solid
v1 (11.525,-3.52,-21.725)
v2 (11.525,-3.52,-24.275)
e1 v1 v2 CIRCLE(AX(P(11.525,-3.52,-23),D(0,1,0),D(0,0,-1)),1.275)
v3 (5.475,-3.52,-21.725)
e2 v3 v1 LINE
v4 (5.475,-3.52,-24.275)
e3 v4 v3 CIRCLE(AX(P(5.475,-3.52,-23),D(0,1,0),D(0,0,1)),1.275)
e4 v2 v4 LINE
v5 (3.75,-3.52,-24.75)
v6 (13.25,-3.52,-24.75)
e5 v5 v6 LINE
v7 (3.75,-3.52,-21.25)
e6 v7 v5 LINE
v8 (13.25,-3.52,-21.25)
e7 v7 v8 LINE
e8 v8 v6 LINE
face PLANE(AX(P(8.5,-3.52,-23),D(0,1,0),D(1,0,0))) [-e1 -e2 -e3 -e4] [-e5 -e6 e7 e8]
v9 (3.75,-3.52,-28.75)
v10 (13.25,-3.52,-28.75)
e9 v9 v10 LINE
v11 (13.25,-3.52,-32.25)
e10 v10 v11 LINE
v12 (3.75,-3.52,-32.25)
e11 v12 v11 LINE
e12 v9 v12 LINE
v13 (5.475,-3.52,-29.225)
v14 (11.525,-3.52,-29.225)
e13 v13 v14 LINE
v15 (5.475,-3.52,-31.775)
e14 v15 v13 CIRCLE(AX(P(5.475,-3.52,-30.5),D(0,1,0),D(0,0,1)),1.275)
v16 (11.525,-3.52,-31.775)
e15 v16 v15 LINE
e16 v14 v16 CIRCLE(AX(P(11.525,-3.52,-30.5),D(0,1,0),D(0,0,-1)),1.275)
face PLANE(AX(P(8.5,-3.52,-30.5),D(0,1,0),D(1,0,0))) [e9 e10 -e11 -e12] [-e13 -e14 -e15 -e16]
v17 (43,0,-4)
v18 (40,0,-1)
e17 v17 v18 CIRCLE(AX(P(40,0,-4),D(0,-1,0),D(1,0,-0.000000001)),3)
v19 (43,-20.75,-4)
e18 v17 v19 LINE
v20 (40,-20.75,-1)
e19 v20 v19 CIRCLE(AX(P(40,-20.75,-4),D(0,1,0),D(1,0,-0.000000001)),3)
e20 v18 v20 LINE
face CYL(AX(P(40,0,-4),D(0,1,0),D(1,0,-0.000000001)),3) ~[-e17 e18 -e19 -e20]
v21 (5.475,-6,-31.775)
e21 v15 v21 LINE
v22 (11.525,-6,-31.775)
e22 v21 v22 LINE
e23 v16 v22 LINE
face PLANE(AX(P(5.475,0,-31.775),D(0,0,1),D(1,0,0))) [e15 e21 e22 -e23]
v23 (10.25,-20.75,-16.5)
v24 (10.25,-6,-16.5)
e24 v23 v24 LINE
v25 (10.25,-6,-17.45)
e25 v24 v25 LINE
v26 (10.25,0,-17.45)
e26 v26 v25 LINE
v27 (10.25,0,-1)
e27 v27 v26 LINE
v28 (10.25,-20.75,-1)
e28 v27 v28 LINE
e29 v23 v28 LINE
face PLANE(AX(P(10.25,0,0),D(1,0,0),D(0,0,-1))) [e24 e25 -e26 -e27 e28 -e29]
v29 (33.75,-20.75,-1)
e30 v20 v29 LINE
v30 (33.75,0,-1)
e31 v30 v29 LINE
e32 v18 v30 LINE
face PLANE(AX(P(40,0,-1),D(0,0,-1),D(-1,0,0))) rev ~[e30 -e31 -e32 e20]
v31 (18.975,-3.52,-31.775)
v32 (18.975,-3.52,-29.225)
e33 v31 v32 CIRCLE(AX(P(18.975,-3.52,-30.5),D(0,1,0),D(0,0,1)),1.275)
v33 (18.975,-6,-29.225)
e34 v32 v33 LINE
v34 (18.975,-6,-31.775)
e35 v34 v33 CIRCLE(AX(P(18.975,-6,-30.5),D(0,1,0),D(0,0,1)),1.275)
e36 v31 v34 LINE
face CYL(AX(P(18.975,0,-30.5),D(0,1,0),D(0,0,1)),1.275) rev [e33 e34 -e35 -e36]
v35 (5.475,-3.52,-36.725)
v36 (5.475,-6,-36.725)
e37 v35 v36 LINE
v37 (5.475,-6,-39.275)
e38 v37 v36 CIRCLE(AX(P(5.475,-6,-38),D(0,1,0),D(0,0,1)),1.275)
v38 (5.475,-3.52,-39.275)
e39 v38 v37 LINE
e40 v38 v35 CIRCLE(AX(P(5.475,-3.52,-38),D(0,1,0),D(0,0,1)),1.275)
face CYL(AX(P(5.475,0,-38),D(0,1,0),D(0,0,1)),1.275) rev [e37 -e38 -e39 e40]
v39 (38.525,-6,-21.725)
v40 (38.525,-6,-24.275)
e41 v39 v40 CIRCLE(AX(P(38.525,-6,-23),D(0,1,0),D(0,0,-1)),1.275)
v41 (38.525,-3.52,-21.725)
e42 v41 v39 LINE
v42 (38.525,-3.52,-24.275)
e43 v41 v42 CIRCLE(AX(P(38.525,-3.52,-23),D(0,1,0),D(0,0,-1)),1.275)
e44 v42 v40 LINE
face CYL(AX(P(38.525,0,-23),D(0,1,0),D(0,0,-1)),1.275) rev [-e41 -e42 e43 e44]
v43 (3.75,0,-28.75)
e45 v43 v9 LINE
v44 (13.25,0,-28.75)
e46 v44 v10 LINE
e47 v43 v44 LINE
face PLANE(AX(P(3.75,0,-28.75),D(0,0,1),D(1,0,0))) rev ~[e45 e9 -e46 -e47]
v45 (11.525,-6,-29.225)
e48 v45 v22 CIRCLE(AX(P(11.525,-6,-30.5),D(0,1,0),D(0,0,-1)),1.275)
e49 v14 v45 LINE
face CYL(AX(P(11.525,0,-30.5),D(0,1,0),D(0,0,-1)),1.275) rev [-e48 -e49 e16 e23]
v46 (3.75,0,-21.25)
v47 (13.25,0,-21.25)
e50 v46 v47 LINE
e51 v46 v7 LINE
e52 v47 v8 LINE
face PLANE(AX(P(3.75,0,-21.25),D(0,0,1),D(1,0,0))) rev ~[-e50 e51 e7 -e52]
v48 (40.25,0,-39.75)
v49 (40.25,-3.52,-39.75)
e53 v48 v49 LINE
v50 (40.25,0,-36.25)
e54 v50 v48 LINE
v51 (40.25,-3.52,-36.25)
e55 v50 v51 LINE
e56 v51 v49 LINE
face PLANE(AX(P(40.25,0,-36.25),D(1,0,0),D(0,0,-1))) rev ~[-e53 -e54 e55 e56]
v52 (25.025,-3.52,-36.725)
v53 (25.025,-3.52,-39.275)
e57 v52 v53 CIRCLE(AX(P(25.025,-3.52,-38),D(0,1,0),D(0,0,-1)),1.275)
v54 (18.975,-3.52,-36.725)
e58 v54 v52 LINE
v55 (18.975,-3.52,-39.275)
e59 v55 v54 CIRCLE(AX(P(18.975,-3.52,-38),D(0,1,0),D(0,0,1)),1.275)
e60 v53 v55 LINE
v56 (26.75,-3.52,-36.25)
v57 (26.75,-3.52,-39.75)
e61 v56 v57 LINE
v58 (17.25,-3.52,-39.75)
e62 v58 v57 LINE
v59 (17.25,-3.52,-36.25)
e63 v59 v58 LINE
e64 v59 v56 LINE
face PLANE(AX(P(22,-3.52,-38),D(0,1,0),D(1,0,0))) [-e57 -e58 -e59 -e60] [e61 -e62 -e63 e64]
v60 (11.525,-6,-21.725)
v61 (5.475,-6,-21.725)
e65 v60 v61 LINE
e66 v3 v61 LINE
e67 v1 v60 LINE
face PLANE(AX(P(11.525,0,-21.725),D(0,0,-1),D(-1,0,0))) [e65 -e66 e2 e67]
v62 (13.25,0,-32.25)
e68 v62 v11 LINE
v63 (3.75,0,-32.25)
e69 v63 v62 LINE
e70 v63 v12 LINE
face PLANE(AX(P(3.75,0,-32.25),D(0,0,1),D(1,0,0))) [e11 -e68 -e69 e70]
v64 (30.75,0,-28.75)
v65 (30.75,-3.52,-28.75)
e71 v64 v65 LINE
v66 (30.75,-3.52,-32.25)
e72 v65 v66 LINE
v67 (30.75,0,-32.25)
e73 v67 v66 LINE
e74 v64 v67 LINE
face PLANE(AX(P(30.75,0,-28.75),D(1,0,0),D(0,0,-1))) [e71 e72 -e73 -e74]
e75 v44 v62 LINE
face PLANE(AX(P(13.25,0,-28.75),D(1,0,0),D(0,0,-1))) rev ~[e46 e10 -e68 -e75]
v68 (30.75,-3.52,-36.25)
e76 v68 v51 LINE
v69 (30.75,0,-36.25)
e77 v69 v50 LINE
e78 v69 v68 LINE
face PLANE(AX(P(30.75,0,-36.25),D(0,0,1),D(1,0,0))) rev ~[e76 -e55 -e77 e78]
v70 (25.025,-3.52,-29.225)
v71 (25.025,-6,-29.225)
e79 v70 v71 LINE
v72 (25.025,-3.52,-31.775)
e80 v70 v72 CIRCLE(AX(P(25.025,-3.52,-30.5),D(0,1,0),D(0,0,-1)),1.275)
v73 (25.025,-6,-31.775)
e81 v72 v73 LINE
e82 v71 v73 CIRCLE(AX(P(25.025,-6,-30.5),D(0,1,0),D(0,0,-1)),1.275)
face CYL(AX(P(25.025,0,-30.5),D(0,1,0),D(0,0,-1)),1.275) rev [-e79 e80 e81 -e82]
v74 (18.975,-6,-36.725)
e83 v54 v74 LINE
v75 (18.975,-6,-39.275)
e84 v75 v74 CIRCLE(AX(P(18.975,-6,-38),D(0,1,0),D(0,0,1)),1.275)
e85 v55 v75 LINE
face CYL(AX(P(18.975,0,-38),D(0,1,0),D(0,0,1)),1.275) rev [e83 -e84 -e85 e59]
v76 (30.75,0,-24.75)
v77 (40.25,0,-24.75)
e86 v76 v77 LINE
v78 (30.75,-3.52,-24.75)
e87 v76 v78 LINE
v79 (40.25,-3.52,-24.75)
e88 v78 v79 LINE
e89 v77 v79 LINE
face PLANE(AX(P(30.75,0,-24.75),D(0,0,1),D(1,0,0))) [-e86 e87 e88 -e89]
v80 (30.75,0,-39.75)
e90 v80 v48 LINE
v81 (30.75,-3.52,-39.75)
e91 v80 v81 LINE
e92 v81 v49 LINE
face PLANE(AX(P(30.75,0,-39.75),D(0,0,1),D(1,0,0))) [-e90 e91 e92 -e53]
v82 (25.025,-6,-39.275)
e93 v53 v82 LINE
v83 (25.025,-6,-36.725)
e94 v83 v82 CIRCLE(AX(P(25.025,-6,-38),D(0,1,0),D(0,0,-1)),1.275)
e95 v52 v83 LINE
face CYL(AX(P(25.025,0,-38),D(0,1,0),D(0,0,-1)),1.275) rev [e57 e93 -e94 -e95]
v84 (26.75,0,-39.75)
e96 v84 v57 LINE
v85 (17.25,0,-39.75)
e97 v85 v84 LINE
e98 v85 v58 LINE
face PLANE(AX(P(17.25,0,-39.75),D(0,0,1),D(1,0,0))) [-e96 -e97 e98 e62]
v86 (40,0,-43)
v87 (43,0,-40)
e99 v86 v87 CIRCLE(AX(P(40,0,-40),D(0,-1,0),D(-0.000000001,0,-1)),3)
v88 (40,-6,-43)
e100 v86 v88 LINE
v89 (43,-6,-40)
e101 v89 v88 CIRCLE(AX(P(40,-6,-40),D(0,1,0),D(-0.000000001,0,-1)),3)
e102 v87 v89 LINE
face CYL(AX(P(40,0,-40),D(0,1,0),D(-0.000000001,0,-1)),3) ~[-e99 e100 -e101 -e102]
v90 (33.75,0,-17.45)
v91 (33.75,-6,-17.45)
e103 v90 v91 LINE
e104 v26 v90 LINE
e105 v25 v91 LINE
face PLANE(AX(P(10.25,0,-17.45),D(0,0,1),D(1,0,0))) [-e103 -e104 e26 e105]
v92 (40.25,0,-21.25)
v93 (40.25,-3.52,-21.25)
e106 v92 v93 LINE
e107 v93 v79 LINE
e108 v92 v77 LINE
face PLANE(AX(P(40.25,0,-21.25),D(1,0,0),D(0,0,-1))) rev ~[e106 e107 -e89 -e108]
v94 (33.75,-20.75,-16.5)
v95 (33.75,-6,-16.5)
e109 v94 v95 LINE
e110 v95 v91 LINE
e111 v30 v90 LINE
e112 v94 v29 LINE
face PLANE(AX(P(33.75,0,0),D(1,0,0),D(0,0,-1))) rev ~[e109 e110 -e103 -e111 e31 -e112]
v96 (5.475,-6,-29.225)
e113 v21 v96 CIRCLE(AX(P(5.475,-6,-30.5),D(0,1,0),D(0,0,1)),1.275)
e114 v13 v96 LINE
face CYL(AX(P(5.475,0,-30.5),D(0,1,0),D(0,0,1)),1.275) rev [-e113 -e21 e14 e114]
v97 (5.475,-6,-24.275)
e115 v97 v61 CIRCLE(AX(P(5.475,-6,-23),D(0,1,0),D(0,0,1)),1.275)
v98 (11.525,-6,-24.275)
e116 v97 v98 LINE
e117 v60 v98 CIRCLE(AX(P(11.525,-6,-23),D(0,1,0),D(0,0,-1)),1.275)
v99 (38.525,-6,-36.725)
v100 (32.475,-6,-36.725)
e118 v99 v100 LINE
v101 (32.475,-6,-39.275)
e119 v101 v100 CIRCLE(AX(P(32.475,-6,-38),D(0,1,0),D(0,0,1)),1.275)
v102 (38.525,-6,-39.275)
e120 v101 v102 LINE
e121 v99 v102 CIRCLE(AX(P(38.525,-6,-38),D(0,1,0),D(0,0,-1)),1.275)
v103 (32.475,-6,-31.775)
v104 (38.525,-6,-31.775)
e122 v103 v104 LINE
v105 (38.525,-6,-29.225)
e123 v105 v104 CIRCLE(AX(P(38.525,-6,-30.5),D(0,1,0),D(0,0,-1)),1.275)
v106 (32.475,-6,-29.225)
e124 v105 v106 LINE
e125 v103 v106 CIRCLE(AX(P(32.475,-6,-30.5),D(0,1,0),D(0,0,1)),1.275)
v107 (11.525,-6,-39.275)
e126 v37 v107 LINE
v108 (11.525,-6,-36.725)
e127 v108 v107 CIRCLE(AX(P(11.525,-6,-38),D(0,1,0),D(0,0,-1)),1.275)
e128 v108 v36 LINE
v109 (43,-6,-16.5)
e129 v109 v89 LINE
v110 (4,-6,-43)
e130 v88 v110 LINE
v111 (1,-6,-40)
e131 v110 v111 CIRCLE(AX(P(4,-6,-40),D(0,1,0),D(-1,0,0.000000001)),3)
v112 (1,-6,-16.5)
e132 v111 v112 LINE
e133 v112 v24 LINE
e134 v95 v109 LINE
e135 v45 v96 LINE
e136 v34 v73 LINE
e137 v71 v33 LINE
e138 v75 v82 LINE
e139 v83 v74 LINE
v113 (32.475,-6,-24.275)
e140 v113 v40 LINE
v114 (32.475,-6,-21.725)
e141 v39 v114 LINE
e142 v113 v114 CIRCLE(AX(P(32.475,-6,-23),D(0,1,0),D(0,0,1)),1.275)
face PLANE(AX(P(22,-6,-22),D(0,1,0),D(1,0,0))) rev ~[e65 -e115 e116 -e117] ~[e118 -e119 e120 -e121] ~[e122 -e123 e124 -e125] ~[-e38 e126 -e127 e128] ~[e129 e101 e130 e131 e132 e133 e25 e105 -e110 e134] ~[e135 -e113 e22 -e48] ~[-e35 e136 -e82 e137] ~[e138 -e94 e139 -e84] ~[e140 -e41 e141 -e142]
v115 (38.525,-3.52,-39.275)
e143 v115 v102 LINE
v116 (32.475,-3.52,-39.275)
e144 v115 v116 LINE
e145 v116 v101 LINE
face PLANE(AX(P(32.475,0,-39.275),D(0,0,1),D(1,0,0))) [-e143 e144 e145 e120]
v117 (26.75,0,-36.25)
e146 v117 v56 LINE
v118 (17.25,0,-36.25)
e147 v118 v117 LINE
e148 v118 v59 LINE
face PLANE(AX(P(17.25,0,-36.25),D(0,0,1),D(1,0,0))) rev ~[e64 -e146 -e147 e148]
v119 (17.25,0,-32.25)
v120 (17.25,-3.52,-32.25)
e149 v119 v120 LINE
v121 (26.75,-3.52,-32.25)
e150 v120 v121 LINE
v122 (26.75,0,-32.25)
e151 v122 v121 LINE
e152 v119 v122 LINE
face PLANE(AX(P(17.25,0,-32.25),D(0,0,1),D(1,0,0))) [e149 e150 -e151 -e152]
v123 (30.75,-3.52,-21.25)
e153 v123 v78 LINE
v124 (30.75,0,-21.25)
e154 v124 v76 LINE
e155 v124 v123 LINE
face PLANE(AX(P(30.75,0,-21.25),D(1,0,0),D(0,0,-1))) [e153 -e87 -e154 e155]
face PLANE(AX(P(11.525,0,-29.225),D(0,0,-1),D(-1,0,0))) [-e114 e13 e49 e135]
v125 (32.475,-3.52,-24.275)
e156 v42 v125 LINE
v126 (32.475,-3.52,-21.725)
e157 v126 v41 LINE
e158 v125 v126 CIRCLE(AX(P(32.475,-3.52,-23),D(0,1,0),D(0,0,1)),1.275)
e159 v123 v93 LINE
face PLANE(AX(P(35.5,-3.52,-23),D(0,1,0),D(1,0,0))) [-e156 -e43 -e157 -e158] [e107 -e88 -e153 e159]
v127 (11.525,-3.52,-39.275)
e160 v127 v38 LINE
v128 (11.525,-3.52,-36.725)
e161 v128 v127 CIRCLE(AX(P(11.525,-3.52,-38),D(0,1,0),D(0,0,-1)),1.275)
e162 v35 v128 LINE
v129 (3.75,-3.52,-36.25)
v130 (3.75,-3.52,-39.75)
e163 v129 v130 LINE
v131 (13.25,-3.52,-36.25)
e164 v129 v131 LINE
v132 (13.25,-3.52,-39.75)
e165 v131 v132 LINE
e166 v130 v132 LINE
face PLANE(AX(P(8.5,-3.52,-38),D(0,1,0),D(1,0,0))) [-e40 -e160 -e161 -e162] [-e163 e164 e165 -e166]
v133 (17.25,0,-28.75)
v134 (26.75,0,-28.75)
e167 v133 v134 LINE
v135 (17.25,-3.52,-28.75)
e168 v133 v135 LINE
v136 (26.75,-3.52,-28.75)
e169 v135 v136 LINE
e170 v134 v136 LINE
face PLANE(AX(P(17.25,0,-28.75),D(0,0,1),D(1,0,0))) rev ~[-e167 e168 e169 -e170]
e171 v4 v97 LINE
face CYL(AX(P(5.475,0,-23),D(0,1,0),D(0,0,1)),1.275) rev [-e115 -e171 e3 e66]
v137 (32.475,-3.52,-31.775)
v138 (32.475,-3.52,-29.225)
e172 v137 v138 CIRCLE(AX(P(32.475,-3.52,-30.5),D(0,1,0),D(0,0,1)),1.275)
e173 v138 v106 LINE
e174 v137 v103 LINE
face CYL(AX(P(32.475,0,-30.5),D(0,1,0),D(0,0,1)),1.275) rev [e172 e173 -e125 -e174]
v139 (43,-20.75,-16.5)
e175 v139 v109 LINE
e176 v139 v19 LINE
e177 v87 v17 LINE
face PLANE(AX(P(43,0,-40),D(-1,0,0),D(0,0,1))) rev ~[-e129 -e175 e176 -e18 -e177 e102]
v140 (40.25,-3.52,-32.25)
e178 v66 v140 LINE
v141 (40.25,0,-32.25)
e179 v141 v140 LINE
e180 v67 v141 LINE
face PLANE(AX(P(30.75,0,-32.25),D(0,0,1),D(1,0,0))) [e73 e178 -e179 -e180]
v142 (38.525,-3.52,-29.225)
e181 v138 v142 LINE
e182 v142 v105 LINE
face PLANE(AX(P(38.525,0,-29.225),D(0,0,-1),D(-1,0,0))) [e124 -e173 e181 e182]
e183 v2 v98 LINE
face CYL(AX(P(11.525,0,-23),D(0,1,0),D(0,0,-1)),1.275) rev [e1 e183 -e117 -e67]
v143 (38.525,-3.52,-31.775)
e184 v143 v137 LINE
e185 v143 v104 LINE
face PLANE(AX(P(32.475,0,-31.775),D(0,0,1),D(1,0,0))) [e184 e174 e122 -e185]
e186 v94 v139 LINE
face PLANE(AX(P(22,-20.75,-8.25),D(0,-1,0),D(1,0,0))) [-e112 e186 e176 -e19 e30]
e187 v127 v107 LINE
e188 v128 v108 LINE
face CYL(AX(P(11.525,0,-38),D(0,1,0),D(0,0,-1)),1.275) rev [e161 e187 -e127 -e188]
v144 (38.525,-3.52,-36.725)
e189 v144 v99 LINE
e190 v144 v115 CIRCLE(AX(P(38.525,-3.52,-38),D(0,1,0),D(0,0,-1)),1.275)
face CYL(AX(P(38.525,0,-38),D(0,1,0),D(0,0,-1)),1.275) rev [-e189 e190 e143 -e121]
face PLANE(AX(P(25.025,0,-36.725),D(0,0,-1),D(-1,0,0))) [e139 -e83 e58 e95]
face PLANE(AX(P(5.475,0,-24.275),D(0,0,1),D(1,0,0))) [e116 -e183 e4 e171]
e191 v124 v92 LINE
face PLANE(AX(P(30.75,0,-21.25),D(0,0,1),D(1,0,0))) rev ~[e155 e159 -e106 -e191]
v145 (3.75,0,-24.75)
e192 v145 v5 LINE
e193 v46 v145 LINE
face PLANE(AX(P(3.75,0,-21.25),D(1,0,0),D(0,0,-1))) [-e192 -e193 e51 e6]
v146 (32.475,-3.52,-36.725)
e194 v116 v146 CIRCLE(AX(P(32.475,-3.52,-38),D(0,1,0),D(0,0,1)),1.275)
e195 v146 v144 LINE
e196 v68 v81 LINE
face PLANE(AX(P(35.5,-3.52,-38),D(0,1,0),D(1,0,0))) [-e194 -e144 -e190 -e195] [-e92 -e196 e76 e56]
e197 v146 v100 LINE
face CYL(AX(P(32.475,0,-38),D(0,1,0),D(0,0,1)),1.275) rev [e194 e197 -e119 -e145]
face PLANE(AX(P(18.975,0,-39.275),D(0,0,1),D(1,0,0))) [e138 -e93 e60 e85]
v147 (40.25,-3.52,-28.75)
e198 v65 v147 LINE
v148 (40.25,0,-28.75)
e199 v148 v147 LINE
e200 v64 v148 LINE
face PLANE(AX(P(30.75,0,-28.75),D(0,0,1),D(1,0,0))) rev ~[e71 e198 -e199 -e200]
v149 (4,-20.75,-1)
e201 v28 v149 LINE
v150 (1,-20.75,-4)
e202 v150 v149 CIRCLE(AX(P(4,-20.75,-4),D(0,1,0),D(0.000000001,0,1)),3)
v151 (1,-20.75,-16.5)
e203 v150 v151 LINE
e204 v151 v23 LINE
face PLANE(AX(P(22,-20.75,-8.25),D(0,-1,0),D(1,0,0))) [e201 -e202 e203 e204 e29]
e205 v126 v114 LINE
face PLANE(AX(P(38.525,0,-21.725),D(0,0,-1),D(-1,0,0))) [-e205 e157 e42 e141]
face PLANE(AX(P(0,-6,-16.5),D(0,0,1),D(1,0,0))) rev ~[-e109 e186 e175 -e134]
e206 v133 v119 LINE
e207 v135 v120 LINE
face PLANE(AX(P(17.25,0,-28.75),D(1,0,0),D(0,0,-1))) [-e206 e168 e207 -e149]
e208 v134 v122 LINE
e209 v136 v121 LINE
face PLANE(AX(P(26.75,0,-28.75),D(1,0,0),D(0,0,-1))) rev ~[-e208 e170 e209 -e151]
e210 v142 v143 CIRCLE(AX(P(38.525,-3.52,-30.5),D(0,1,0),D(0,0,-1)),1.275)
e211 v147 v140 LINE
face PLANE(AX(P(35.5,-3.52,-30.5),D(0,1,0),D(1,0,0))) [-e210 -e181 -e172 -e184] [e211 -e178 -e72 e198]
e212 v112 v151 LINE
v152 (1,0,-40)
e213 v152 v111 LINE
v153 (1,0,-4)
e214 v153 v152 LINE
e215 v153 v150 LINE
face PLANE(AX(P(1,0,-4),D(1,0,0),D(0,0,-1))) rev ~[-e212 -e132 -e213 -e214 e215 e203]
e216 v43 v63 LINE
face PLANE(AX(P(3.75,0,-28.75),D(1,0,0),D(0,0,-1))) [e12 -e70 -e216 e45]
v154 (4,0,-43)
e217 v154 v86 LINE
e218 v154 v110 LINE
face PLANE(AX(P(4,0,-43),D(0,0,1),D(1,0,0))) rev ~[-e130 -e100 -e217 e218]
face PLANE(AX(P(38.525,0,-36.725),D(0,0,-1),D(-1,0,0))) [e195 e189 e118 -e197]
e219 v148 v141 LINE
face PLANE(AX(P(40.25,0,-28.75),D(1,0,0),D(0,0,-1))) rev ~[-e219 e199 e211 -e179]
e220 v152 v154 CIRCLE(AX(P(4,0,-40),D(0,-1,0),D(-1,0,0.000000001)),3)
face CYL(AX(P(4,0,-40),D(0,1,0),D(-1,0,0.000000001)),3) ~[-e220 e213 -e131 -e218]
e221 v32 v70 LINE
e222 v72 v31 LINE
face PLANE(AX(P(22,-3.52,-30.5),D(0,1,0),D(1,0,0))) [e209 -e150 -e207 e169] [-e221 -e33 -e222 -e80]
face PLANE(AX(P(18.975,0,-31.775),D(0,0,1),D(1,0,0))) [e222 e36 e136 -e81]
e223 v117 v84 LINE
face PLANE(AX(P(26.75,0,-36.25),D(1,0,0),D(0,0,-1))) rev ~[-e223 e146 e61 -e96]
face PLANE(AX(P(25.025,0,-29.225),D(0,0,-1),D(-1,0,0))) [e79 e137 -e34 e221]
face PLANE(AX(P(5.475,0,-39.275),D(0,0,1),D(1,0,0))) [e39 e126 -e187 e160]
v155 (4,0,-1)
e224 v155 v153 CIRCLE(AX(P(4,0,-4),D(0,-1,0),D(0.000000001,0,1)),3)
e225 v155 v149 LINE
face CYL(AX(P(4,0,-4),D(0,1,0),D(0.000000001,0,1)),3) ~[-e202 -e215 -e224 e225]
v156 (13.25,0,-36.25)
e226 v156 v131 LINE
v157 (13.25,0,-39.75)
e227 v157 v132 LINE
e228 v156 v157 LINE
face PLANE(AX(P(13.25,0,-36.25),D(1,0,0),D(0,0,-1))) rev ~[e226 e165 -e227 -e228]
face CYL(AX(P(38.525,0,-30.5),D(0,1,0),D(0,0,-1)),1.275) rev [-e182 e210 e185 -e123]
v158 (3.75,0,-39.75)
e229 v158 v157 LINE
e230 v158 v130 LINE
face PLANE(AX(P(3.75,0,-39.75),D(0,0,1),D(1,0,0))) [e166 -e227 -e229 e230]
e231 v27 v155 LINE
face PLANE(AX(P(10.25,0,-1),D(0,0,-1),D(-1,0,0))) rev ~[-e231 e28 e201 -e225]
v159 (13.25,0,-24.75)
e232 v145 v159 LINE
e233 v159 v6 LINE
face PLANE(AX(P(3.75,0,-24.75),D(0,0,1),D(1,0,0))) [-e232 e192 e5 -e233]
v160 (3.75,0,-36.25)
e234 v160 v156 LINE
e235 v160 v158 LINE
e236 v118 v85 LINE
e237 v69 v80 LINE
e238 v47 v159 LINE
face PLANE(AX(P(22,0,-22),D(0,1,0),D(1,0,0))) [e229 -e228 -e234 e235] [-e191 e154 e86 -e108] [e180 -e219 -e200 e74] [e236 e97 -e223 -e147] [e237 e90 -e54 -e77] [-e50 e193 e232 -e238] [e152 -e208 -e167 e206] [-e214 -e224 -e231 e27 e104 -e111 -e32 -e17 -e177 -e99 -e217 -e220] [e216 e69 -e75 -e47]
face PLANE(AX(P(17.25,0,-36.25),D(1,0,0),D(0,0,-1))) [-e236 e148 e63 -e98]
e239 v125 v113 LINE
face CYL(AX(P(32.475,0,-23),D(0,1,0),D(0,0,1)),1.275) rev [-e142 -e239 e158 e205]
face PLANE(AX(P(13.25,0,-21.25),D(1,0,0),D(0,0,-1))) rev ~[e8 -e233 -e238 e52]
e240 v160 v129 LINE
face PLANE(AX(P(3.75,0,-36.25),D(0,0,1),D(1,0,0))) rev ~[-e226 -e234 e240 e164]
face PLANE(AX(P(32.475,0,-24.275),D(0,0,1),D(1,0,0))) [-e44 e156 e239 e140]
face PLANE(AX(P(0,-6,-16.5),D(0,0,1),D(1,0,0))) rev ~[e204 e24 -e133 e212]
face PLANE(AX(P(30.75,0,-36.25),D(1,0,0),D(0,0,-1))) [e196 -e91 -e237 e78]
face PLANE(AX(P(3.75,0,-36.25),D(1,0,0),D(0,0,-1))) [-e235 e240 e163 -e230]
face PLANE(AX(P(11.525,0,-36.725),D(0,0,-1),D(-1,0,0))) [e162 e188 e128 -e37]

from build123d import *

# Parameters (mm, degrees)
SKETCH1_W            = 44
SKETCH1_H            = 44
BOSS_EXTRUDE1_DEPTH  = 6
CUT_EXTRUDE1_DEPTH   = 7
SKETCH4_W            = 44
SKETCH4_H            = 16.5
BOSS_EXTRUDE2_DEPTH  = 14.75
SKETCH5_W            = 23.5
SKETCH5_H            = 17.45
CUT_EXTRUDE2_DEPTH   = 21.75
FILLET1_R            = 3
SKETCH6_W            = 9.5
SKETCH6_H            = 3.5
CUT_EXTRUDE3_DEPTH   = 3.52
LPATTERN1_COUNT      = 3
LPATTERN1_PITCH      = 13.5
LPATTERN1_COUNT_DIR2 = 3
LPATTERN1_PITCH_DIR2 = 7.5
CUT_EXTRUDE5_REACH   = 22.75


with BuildPart() as part:
    # Sketch1 → Boss-Extrude1 (new body)
    with BuildSketch(Plane(origin=(0, 0, 0), x_dir=(1, 0, 0), z_dir=(0, 1, 0))):
        with Locations((22, 22)):
            Rectangle(SKETCH1_W, SKETCH1_H)
    extrude(amount=-BOSS_EXTRUDE1_DEPTH)

    # Sketch2 → Cut-Extrude1 (cut, through all)
    with BuildSketch(Plane(origin=(0, 0, 0), x_dir=(1, 0, 0), z_dir=(0, 1, 0))):
        with BuildLine():
            Line((5.475, 39.275), (11.525, 39.275))
            ThreePointArc((11.525, 39.275), (12.8, 38), (11.525, 36.725))
            Line((11.525, 36.725), (5.475, 36.725))
            ThreePointArc((5.475, 36.725), (4.2, 38), (5.475, 39.275))
        make_face()
        with BuildLine():
            Line((18.975, 39.275), (25.025, 39.275))
            ThreePointArc((25.025, 39.275), (26.3, 38), (25.025, 36.725))
            Line((25.025, 36.725), (18.975, 36.725))
            ThreePointArc((18.975, 36.725), (17.7, 38), (18.975, 39.275))
        make_face()
        with BuildLine():
            Line((32.475, 39.275), (38.525, 39.275))
            ThreePointArc((38.525, 39.275), (39.8, 38), (38.525, 36.725))
            Line((38.525, 36.725), (32.475, 36.725))
            ThreePointArc((32.475, 36.725), (31.2, 38), (32.475, 39.275))
        make_face()
        with BuildLine():
            Line((18.975, 31.775), (25.025, 31.775))
            ThreePointArc((25.025, 31.775), (26.3, 30.5), (25.025, 29.225))
            Line((25.025, 29.225), (18.975, 29.225))
            ThreePointArc((18.975, 29.225), (17.7, 30.5), (18.975, 31.775))
        make_face()
        with BuildLine():
            Line((32.475, 31.775), (38.525, 31.775))
            ThreePointArc((38.525, 31.775), (39.8, 30.5), (38.525, 29.225))
            Line((38.525, 29.225), (32.475, 29.225))
            ThreePointArc((32.475, 29.225), (31.2, 30.5), (32.475, 31.775))
        make_face()
        with BuildLine():
            Line((32.475, 24.275), (38.525, 24.275))
            ThreePointArc((38.525, 24.275), (39.8, 23), (38.525, 21.725))
            Line((38.525, 21.725), (32.475, 21.725))
            ThreePointArc((32.475, 21.725), (31.2, 23), (32.475, 24.275))
        make_face()
        with BuildLine():
            Line((5.475, 31.775), (11.525, 31.775))
            ThreePointArc((11.525, 31.775), (12.8, 30.5), (11.525, 29.225))
            Line((11.525, 29.225), (5.475, 29.225))
            ThreePointArc((5.475, 29.225), (4.2, 30.5), (5.475, 31.775))
        make_face()
        with BuildLine():
            Line((5.475, 24.275), (11.525, 24.275))
            ThreePointArc((11.525, 24.275), (12.8, 23), (11.525, 21.725))
            Line((11.525, 21.725), (5.475, 21.725))
            ThreePointArc((5.475, 21.725), (4.2, 23), (5.475, 24.275))
        make_face()
    extrude(amount=-CUT_EXTRUDE1_DEPTH, mode=Mode.SUBTRACT)

    # Sketch4 → Boss-Extrude2 (add)
    with BuildSketch(Plane.XZ.offset(6)):
        with Locations((22, -8.25)):
            Rectangle(SKETCH4_W, SKETCH4_H)
    extrude(amount=BOSS_EXTRUDE2_DEPTH)

    # Sketch5 → Cut-Extrude2 (cut, through all)
    with BuildSketch(Plane(origin=(0, 0, 0), x_dir=(1, 0, 0), z_dir=(0, 1, 0))):
        with Locations((22, 8.725)):
            Rectangle(SKETCH5_W, SKETCH5_H)
    extrude(amount=-CUT_EXTRUDE2_DEPTH, mode=Mode.SUBTRACT)

    # Fillet1
    fillet1_edges = [part.edges().sort_by_distance(p)[0] for p in [
        (0, -10.375, 0),
        (44, -10.375, 0),
        (44, -3, -44),
        (0, -3, -44),
    ]]
    fillet(fillet1_edges, radius=FILLET1_R)

    # Sketch6 → Cut-Extrude3 (cut)
    with BuildSketch(Plane(origin=(0, 0, 0), x_dir=(1, 0, 0), z_dir=(0, 1, 0))):
        with Locations((8.5, 38)):
            Rectangle(SKETCH6_W, SKETCH6_H)
    cut_extrude3 = extrude(amount=-CUT_EXTRUDE3_DEPTH, mode=Mode.SUBTRACT)

    # LPattern1: Cut-Extrude3 3 × 3, 1 skipped
    with Locations(*[(i * LPATTERN1_PITCH, 0, j * LPATTERN1_PITCH_DIR2) for i in range(LPATTERN1_COUNT) for j in range(LPATTERN1_COUNT_DIR2) if (i, j) not in ((0, 0), (1, 2))]):
        add(cut_extrude3, mode=Mode.SUBTRACT)

    # Sketch7 → Cut-Extrude5 (cut, up to next)
    with BuildSketch(Plane(origin=(0, 0, 0), x_dir=(1, 0, 0), z_dir=(0, 1, 0)), mode=Mode.PRIVATE) as cut_extrude5_sk1:
        with BuildLine():
            Line((10.25, 0), (10.25, 1))
            Line((10.25, 1), (4, 1))
            ThreePointArc((4, 1), (1.878679656, 1.878679656), (1, 4))
            Line((1, 4), (1, 40))
            ThreePointArc((1, 40), (1.878679656, 42.121320344), (4, 43))
            Line((4, 43), (40, 43))
            ThreePointArc((40, 43), (42.121320344, 42.121320344), (43, 40))
            Line((43, 40), (43, 4))
            ThreePointArc((43, 4), (42.121320344, 1.878679656), (40, 1))
            Line((40, 1), (33.75, 1))
            Line((33.75, 1), (33.75, 0))
            Line((33.75, 0), (41, 0))
            ThreePointArc((41, 0), (43.121320344, 0.878679656), (44, 3))
            Line((44, 3), (44, 41))
            ThreePointArc((44, 41), (43.121320344, 43.121320344), (41, 44))
            Line((41, 44), (3, 44))
            ThreePointArc((3, 44), (0.878679656, 43.121320344), (0, 41))
            Line((0, 41), (0, 3))
            ThreePointArc((0, 3), (0.878679656, 0.878679656), (3, 0))
            Line((3, 0), (10.25, 0))
        make_face()
    cut_extrude5_tool1 = extrude(cut_extrude5_sk1.sketch, amount=-CUT_EXTRUDE5_REACH, mode=Mode.PRIVATE) & part.part
    add(cut_extrude5_tool1.solids().sort_by_distance((6.625, 0, -0.622254))[0], mode=Mode.SUBTRACT)


solid = part.part
